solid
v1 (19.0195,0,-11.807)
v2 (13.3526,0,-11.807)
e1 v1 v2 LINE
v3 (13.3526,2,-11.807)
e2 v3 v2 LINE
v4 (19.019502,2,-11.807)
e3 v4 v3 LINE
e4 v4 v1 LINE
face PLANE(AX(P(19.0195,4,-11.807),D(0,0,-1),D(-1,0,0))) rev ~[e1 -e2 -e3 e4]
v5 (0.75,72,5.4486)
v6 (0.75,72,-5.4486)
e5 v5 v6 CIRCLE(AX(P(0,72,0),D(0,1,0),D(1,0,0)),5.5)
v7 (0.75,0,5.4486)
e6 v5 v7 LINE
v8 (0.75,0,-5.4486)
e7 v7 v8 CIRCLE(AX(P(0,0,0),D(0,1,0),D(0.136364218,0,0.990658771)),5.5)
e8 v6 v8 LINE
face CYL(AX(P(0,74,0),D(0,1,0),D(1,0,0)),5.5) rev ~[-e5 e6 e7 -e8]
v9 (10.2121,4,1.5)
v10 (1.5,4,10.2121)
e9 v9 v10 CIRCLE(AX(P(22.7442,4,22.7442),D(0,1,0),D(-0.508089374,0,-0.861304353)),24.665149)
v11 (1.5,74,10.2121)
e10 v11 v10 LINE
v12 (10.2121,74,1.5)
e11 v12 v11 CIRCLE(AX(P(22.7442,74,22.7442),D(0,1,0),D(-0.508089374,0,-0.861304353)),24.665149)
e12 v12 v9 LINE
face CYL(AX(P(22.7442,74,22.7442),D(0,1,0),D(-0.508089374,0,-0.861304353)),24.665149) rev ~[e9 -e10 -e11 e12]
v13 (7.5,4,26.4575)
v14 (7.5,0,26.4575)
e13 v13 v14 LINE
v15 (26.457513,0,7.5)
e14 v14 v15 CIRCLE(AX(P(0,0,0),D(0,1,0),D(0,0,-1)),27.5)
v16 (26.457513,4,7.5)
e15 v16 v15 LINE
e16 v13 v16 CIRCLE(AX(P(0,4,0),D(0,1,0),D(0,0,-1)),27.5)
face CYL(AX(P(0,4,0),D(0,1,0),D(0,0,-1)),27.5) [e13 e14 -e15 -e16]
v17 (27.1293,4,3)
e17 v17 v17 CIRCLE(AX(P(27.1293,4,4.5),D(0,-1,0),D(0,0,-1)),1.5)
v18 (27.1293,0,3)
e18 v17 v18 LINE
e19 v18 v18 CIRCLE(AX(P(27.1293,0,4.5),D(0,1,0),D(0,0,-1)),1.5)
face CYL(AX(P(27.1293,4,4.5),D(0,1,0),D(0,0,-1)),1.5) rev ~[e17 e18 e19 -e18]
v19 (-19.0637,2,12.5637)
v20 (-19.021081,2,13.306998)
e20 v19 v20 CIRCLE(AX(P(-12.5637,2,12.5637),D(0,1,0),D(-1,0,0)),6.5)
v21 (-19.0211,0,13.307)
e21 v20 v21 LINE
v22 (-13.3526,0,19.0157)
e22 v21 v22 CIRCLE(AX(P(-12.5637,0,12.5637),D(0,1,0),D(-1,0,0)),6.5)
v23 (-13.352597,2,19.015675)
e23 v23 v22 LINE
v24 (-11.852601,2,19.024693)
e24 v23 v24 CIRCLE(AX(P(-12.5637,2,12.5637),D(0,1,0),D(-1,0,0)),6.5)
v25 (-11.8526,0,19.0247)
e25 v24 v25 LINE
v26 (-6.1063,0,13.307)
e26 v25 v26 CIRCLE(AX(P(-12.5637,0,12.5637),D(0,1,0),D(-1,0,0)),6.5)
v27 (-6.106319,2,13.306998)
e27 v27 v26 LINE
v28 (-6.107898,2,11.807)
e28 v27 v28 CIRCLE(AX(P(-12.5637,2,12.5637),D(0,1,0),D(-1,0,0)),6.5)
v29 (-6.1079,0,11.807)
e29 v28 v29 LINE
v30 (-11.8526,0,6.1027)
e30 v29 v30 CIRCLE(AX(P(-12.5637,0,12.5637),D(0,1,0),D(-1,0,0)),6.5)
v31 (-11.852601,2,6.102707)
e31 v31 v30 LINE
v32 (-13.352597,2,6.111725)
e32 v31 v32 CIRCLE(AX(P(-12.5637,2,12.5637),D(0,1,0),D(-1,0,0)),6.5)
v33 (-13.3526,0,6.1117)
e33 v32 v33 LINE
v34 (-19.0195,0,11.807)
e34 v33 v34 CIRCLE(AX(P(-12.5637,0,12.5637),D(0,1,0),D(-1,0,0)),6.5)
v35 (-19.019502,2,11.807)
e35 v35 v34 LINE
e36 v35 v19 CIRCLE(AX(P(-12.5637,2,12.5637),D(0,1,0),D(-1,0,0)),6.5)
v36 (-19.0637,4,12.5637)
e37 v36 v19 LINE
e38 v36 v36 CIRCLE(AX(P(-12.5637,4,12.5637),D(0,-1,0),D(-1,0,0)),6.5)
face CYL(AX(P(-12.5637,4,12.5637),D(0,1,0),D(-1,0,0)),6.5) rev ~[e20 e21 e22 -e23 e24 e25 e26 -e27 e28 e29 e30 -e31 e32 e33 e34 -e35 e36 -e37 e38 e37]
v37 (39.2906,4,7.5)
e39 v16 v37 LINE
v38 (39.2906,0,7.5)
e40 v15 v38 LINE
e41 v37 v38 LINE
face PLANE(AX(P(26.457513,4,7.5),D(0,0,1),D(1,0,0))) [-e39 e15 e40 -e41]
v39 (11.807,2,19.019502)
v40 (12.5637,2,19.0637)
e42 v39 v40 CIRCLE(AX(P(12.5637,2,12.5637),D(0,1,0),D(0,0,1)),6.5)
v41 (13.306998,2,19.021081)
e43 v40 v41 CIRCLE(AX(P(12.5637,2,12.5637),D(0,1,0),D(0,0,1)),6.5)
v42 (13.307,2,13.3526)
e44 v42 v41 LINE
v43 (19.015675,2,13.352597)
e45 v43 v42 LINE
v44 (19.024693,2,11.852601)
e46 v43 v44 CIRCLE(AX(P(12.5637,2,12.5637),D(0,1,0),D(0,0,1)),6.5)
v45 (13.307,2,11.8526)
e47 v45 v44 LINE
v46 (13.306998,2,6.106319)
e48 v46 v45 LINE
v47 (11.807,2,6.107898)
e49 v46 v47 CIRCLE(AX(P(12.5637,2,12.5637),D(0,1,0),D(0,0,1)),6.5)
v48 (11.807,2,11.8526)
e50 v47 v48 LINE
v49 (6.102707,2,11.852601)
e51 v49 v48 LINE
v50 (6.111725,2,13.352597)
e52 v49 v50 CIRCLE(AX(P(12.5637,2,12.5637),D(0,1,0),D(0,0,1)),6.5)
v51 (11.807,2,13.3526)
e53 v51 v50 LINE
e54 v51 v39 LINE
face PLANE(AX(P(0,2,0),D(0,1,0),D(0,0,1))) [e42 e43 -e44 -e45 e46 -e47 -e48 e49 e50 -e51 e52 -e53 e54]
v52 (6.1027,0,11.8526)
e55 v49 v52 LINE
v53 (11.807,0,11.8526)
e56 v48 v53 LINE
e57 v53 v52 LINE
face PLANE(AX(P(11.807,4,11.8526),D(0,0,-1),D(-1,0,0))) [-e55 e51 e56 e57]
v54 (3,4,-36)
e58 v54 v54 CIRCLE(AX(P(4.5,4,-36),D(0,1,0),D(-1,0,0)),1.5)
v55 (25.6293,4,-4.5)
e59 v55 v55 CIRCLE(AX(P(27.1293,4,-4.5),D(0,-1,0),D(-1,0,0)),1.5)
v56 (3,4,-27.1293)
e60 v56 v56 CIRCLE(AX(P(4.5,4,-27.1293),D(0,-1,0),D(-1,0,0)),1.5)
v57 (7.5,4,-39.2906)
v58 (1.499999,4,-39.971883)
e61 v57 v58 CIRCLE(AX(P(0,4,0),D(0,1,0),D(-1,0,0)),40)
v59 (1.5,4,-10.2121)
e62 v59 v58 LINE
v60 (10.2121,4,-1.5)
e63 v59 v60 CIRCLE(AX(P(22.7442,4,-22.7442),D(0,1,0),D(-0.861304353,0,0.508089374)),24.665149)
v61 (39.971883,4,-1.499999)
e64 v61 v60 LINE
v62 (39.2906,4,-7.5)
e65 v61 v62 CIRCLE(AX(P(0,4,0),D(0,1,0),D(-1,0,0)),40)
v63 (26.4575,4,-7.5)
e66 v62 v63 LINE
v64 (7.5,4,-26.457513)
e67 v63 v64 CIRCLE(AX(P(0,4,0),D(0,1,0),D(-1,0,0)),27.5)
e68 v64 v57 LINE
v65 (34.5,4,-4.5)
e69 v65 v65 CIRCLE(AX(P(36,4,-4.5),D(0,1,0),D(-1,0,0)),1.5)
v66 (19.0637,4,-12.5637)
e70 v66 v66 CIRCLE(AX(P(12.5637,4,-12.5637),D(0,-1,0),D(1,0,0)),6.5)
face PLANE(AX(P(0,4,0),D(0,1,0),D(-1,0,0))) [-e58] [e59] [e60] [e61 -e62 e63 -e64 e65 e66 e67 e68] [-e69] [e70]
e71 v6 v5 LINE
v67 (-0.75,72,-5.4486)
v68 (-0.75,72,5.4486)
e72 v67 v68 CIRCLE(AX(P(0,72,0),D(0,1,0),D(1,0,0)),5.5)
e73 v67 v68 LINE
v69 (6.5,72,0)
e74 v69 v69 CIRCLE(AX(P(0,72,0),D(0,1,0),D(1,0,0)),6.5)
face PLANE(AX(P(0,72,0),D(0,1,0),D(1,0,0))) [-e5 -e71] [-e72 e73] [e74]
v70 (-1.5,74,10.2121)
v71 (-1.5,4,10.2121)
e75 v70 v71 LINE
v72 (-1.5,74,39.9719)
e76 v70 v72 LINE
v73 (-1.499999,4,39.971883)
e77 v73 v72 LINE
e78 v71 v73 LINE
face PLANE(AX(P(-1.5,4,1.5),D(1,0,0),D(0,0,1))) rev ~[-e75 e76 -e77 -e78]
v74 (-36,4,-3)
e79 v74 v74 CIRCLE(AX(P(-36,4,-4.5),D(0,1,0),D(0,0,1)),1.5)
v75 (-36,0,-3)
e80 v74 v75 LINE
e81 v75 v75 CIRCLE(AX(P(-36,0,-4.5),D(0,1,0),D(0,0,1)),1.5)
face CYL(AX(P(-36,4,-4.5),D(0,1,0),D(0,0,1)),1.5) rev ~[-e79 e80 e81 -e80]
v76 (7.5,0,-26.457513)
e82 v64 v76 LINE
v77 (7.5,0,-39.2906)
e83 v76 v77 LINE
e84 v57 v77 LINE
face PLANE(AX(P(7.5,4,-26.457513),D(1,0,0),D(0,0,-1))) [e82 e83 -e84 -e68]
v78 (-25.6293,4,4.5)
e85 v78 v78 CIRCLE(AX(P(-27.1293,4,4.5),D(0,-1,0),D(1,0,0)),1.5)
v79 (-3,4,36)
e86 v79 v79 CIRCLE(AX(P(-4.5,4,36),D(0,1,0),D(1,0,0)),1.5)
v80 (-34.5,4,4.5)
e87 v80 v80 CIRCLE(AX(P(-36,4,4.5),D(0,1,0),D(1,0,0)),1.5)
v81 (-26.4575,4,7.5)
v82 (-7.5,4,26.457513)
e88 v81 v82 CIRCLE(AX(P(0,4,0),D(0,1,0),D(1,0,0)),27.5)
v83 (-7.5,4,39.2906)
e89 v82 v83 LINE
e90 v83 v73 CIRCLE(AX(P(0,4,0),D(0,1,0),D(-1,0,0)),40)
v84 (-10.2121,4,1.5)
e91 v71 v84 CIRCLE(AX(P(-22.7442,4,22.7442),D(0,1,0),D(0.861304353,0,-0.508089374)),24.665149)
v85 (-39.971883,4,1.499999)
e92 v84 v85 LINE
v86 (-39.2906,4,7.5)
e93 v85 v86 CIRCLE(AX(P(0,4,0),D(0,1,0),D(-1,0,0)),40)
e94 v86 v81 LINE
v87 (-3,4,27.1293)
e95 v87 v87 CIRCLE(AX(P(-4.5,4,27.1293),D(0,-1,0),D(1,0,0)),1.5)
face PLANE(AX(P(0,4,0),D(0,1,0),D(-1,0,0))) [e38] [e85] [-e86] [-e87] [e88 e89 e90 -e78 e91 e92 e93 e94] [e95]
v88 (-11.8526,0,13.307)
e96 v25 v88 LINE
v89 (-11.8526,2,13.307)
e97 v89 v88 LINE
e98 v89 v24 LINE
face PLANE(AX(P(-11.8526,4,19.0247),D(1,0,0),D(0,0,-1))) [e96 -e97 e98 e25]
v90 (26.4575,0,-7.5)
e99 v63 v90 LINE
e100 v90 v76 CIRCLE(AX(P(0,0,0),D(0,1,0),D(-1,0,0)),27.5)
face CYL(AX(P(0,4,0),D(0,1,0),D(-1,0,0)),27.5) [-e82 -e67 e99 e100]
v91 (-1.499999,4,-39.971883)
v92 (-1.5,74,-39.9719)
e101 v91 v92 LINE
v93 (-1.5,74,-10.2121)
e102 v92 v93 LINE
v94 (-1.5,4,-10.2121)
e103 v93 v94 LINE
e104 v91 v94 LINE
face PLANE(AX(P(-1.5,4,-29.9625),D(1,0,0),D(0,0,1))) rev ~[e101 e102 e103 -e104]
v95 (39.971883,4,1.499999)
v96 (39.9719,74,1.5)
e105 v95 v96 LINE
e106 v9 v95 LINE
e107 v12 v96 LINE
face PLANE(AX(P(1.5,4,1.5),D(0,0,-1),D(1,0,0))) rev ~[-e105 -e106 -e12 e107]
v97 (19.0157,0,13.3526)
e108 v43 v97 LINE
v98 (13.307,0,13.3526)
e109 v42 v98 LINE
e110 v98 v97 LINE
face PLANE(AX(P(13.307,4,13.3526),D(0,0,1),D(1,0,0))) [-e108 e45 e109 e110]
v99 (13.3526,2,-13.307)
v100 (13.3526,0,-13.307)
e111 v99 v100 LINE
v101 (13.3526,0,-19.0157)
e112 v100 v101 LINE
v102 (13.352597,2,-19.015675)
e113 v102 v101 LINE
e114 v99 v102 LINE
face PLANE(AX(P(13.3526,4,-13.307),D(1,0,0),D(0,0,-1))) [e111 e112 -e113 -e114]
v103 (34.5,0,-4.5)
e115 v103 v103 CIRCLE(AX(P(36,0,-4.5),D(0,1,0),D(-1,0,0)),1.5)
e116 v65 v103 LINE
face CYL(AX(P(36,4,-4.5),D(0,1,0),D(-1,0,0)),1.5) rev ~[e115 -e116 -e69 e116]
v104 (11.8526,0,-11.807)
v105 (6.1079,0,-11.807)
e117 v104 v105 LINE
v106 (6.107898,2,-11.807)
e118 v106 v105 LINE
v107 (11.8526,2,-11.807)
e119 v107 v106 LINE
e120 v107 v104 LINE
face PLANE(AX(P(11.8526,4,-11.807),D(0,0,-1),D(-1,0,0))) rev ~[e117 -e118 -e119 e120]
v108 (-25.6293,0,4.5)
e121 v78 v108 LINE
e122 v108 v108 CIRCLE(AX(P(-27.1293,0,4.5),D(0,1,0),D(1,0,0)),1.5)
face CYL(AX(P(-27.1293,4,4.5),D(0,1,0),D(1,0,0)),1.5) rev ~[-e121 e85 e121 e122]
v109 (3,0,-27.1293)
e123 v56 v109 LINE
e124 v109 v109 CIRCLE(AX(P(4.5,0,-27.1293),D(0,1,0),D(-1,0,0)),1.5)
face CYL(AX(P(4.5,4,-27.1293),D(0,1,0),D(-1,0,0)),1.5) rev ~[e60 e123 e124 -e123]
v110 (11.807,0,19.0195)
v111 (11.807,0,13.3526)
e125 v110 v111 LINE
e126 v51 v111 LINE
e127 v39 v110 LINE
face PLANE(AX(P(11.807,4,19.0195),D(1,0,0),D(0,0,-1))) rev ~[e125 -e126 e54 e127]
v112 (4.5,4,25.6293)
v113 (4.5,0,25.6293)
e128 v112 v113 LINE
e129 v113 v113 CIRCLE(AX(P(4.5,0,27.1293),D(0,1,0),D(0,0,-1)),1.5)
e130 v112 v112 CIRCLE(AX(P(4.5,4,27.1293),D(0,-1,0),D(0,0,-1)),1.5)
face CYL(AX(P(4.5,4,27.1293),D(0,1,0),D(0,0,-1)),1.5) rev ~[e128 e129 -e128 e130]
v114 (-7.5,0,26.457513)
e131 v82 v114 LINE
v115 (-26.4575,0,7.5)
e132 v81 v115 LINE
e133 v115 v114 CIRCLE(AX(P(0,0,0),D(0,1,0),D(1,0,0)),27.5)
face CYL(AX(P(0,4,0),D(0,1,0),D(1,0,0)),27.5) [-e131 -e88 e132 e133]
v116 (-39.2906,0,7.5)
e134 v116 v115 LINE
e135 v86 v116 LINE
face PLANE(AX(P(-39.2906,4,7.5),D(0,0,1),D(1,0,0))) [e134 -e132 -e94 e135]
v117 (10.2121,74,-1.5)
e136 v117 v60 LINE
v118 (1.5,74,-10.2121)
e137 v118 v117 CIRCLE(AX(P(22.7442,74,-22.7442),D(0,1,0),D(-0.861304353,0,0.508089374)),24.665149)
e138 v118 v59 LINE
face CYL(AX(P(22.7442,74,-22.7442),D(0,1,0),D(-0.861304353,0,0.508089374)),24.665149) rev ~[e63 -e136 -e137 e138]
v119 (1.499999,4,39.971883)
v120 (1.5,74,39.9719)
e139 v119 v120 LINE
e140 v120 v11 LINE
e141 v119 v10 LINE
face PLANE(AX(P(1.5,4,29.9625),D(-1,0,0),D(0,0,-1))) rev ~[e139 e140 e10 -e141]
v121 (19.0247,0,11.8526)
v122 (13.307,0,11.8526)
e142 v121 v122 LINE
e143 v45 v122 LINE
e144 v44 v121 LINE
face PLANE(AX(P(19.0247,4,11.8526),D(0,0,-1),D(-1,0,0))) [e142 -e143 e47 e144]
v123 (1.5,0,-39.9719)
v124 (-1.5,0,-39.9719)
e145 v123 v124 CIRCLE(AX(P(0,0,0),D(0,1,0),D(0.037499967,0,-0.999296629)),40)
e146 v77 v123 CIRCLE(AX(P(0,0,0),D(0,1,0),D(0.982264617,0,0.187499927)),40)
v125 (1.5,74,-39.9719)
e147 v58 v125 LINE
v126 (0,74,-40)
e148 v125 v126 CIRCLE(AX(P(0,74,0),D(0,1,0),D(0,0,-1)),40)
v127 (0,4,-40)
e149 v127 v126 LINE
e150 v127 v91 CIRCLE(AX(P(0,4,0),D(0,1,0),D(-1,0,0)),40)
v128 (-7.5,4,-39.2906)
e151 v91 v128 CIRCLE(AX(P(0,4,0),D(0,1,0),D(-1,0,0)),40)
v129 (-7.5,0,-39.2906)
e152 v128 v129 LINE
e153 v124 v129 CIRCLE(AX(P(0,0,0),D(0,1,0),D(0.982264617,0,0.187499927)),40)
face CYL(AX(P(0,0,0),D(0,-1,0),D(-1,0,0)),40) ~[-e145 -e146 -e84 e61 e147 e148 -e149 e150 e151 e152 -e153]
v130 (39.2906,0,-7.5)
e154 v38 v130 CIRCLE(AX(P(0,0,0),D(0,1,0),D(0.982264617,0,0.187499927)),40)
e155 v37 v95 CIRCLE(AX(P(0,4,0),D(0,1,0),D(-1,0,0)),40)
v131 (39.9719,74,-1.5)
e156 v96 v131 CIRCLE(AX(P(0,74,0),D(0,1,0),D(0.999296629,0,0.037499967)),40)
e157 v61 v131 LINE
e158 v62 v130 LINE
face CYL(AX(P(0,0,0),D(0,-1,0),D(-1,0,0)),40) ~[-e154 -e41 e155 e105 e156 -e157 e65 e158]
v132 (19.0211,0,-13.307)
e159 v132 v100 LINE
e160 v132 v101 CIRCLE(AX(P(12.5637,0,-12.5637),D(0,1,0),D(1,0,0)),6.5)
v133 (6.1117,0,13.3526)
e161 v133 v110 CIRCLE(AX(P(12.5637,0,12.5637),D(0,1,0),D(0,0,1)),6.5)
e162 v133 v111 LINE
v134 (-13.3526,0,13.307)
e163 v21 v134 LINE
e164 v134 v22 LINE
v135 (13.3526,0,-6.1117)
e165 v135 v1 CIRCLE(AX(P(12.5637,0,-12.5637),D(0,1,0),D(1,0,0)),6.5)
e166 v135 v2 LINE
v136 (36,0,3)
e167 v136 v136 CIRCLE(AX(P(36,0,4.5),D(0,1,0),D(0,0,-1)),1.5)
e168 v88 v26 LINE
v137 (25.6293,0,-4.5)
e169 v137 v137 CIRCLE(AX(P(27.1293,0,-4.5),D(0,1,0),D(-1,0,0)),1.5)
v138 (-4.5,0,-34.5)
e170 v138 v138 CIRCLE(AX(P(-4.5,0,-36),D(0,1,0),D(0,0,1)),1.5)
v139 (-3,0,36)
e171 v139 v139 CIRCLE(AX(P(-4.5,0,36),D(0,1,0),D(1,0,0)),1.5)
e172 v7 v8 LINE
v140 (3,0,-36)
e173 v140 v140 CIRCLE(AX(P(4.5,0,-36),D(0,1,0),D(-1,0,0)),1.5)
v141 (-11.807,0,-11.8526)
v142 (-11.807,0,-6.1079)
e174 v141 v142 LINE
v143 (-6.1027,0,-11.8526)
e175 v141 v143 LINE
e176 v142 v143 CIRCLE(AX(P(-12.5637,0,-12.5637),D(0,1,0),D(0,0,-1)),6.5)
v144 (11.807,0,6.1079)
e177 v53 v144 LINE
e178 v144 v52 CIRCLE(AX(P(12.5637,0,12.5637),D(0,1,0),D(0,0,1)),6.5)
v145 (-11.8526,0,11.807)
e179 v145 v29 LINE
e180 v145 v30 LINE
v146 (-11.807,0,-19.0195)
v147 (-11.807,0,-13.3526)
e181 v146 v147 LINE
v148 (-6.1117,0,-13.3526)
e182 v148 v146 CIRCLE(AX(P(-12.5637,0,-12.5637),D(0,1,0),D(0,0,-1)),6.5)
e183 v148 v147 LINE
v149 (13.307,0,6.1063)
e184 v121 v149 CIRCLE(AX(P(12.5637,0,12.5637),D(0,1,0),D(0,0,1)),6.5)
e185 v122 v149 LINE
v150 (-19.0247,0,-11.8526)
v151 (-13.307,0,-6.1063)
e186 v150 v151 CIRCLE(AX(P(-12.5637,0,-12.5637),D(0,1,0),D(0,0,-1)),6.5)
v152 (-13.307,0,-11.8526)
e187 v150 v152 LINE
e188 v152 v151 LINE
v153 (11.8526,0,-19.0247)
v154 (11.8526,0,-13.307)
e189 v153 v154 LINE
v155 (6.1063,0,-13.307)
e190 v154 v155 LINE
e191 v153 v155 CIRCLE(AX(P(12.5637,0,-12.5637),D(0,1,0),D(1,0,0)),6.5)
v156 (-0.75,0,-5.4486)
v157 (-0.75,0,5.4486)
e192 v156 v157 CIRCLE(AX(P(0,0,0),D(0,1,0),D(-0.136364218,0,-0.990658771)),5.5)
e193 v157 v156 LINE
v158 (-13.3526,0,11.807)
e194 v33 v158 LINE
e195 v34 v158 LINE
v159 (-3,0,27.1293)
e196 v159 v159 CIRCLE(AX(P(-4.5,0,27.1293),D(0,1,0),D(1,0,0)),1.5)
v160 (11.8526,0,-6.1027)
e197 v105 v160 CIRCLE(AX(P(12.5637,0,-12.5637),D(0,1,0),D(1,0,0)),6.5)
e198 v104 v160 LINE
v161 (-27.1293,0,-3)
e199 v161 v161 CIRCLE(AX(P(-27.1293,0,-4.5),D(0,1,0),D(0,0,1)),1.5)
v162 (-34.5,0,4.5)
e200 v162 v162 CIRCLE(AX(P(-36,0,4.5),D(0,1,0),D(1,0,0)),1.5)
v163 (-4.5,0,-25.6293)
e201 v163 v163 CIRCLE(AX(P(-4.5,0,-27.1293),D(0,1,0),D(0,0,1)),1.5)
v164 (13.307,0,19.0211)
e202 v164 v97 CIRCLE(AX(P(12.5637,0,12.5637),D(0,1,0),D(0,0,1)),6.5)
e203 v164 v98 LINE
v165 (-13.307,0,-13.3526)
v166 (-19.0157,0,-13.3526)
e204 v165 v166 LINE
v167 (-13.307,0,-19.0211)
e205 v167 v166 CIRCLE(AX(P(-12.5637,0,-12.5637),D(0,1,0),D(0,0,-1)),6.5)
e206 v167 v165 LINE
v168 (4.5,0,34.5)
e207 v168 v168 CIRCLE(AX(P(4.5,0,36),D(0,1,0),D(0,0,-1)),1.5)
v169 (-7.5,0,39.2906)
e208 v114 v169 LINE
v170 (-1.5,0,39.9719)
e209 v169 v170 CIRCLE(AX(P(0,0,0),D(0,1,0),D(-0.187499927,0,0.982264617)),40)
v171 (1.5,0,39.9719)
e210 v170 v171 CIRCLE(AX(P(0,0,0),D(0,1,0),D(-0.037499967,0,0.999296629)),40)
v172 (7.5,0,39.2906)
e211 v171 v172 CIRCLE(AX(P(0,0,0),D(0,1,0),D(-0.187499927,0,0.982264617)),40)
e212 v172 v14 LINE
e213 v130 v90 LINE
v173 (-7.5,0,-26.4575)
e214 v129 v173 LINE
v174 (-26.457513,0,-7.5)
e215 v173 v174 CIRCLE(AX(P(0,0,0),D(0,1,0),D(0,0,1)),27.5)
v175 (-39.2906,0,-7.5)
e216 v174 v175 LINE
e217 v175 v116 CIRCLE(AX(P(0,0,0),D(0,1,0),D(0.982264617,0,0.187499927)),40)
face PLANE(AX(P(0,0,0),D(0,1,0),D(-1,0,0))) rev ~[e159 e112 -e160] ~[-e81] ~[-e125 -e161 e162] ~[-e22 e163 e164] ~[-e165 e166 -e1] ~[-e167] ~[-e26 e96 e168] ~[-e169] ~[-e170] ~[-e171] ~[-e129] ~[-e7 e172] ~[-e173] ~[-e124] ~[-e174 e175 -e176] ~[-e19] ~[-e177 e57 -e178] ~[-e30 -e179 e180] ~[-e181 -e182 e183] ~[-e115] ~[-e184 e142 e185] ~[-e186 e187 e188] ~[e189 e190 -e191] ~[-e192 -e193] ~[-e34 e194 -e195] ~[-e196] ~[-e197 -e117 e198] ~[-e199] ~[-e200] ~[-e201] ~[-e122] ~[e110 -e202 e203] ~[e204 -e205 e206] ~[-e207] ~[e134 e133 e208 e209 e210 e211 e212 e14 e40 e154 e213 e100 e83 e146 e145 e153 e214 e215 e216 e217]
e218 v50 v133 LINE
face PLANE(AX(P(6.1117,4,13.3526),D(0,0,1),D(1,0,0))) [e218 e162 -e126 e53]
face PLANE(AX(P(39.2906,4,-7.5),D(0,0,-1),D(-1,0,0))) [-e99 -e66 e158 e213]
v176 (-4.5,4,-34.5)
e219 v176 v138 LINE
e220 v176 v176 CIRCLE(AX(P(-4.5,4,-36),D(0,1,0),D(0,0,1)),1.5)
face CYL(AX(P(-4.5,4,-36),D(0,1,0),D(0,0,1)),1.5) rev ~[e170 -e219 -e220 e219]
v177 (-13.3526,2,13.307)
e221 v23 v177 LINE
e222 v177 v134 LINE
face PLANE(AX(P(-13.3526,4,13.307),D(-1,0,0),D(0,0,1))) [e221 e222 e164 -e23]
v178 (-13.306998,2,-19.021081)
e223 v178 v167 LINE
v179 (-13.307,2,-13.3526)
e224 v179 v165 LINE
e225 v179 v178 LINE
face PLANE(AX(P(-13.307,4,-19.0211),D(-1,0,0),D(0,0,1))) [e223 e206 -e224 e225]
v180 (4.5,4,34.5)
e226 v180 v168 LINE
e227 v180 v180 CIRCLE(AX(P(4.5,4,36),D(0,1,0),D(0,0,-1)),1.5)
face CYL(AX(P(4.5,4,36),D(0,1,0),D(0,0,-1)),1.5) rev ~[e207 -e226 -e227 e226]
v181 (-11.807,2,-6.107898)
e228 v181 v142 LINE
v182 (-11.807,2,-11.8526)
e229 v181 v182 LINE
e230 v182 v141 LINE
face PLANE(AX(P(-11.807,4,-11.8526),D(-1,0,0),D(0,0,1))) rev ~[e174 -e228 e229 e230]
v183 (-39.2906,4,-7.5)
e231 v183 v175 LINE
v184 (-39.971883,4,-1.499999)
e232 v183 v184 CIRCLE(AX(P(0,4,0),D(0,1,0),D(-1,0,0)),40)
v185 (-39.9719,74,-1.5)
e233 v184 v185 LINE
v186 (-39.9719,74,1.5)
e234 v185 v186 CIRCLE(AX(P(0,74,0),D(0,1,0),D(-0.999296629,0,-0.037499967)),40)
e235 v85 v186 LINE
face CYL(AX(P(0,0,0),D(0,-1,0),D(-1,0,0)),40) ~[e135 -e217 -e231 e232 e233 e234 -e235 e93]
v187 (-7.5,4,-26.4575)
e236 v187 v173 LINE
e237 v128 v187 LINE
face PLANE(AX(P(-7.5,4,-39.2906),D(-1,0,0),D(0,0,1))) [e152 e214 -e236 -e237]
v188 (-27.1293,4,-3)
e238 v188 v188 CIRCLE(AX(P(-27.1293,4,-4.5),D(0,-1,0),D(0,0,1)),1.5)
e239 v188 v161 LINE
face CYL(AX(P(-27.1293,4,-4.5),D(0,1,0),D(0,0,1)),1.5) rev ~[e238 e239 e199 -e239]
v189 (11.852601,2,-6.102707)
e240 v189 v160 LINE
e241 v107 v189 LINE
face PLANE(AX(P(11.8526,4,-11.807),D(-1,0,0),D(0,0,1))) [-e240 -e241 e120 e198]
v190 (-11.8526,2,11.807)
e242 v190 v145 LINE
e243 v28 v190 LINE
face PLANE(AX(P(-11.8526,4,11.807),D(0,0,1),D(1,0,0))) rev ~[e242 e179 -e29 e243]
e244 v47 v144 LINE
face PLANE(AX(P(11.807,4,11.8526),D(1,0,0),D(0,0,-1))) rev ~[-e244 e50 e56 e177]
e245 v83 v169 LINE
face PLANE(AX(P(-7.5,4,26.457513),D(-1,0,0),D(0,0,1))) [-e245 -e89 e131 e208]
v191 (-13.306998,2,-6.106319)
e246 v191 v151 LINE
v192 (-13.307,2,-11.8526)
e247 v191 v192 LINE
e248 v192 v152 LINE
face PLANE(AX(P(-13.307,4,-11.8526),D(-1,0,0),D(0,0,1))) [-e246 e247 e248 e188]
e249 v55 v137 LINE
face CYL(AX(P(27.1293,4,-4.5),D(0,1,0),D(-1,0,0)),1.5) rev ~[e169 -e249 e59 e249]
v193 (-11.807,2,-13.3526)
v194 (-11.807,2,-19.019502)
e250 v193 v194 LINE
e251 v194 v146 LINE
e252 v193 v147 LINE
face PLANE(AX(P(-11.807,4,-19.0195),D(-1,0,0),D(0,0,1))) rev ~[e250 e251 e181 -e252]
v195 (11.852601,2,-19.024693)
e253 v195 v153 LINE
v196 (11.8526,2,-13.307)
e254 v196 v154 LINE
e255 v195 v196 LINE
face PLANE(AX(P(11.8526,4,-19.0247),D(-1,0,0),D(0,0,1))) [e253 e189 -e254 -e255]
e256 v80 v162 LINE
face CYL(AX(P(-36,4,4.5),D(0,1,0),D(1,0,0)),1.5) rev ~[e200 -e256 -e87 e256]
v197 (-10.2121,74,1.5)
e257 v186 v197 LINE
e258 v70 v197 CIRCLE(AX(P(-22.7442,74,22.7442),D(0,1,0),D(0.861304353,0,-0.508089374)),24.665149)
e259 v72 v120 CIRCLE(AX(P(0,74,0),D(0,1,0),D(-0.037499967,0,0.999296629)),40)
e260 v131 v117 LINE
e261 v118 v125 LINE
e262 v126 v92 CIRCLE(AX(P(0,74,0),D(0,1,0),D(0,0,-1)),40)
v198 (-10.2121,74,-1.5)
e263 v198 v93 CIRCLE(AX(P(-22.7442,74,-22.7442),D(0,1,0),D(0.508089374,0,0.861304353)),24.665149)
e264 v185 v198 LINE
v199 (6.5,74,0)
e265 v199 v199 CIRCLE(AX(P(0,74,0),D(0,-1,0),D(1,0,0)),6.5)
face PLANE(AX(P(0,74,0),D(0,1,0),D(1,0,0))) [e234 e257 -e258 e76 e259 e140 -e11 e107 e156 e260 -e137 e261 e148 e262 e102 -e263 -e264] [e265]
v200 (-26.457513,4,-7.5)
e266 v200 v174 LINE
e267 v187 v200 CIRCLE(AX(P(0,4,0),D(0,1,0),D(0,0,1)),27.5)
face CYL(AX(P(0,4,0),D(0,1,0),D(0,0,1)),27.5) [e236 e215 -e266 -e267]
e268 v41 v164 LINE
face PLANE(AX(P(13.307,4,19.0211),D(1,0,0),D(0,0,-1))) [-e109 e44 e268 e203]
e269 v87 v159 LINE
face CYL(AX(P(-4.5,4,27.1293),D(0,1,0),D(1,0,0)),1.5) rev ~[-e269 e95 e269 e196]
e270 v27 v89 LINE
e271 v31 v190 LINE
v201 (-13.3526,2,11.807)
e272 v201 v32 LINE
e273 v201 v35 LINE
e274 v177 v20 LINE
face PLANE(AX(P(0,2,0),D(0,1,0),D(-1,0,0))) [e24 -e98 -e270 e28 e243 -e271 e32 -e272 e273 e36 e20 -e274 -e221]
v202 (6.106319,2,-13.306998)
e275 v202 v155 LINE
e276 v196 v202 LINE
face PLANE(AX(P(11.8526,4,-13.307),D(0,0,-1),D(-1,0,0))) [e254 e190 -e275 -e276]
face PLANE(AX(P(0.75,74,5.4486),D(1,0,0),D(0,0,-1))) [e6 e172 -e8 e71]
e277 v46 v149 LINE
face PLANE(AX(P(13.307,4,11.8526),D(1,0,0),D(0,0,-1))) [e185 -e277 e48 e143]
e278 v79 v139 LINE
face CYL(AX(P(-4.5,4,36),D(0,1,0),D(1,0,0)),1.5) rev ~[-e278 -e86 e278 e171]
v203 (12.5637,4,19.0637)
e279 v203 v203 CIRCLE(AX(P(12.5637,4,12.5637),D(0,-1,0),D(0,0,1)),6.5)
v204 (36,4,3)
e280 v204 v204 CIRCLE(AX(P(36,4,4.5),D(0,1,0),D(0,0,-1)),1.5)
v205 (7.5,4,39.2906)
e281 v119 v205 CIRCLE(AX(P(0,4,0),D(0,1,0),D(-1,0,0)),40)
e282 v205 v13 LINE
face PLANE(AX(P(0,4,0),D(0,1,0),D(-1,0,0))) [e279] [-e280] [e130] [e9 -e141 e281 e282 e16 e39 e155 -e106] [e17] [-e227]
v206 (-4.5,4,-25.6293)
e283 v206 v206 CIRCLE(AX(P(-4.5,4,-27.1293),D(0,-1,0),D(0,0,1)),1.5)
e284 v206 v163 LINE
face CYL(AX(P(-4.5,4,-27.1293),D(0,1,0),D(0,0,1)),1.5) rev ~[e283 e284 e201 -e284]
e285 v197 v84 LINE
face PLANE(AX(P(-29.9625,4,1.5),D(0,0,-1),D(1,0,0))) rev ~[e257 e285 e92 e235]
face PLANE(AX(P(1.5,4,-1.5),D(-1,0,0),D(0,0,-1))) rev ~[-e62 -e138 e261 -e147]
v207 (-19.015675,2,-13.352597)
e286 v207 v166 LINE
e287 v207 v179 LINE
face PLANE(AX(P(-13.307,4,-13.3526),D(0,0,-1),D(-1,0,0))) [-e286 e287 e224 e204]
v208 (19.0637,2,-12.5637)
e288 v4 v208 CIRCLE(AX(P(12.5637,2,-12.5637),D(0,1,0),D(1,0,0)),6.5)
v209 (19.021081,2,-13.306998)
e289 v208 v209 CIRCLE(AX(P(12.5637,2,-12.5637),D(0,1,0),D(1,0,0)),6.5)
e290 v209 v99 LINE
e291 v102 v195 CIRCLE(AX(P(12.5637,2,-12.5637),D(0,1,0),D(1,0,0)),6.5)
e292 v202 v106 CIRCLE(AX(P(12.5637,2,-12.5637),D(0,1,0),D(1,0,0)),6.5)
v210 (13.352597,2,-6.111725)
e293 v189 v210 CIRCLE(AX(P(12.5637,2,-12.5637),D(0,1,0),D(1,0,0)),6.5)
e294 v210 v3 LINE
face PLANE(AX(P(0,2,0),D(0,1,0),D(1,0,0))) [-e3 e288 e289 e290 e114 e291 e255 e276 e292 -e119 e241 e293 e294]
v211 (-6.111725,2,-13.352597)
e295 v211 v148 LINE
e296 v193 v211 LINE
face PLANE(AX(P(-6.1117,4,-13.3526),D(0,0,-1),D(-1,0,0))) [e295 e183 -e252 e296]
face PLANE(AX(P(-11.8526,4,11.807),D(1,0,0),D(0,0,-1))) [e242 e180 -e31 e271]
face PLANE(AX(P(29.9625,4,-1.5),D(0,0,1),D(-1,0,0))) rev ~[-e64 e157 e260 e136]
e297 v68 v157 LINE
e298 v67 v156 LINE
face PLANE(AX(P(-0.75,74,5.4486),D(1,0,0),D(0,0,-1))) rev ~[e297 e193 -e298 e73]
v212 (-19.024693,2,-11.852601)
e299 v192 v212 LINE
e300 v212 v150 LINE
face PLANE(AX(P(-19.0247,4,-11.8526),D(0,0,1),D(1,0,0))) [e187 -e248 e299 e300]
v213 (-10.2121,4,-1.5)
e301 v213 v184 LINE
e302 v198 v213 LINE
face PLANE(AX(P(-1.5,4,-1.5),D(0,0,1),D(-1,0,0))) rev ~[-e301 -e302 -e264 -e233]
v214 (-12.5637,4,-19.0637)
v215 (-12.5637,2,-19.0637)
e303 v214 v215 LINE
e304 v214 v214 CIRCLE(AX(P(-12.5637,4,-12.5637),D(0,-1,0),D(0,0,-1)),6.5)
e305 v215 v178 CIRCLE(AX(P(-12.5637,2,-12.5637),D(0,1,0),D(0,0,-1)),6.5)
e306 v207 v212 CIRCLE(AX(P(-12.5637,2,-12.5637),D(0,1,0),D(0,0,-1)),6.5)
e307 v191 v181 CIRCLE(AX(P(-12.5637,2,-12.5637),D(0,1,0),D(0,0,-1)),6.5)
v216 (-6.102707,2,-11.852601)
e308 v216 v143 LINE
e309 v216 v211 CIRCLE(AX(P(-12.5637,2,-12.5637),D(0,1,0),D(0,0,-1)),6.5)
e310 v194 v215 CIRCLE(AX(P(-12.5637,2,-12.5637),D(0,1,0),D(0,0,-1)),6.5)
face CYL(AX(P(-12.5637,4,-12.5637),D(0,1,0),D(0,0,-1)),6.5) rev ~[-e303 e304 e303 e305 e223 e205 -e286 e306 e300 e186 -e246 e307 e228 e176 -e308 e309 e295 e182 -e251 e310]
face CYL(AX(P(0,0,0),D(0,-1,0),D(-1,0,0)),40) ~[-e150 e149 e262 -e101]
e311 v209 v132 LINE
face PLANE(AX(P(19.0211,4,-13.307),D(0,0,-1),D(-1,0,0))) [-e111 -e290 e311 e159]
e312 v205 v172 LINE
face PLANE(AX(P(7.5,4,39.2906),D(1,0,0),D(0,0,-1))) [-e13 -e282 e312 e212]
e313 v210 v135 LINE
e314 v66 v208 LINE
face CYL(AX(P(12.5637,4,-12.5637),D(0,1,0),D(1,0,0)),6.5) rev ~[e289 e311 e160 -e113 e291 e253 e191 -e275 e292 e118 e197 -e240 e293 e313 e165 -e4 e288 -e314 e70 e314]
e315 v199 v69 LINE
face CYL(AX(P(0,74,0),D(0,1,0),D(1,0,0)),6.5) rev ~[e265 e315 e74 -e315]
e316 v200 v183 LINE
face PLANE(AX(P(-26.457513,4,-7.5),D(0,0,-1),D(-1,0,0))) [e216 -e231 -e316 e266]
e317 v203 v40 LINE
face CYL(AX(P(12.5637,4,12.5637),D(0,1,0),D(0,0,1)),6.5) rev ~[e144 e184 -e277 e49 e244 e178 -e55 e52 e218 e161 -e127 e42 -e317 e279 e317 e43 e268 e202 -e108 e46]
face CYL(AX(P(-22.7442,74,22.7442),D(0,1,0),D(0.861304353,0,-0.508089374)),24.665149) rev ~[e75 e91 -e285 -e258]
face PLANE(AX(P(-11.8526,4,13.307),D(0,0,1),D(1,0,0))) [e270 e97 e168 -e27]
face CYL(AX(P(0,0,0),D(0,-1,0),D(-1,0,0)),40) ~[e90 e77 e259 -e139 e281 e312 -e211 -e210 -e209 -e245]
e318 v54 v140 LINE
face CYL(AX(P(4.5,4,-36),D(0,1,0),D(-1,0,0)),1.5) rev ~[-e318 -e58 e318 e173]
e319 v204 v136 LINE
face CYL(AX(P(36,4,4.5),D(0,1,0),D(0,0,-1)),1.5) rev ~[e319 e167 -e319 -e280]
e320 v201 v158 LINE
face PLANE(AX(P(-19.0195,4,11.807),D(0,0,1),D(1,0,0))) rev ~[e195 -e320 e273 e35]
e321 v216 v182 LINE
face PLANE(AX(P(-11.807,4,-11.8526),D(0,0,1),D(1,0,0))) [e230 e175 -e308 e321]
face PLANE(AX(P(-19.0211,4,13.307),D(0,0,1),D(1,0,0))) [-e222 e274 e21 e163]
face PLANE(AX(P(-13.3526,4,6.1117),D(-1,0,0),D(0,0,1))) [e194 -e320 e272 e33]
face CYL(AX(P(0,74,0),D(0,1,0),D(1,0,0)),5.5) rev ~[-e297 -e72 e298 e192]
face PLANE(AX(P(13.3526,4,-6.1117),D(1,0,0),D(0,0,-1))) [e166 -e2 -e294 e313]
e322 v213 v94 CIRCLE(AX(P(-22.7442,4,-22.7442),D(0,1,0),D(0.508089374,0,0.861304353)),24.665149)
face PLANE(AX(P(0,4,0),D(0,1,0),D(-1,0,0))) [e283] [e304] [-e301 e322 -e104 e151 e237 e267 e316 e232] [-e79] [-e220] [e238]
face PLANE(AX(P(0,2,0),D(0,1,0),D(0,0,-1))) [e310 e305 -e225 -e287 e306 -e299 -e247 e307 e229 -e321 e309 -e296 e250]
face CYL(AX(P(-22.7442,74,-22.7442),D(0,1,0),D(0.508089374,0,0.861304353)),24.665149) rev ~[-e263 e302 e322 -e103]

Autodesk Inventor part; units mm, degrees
ref_plane "YZ Plane" through (0, 0, 0) normal (1, 0, 0) x (0, 1, 0)
ref_plane "XZ Plane" through (0, 0, 0) normal (0, 1, 0) x (-1, 0, 0)
ref_plane "XY Plane" through (0, 0, 0) normal (0, 0, 1) x (1, 0, 0)
sketch "Sketch1" plane through (0, 0, 0) normal (0, 1, 0) x (-1, 0, 0)
  circle A0 centre (0, 0) radius 30
  dimension "d0" = 60
extrude "Extrusion1" add sketch "Sketch1" along normal blind 4
sketch "Sketch2" plane through (0, 4, 0) normal (0, 1, 0) x (1, 0, 0)
  circle A0 centre (0, 0) radius 30 projected
  line L0 (-29.9625, -1.5) -> (-1.5, -1.5)
  line L1 (1.5, -1.5) -> (29.9625, -1.5)
  line L2 (29.9625, 1.5) -> (1.5, 1.5)
  line L3 (-1.5, 1.5) -> (-29.9625, 1.5)
  line L4 (-1.5, 29.9625) -> (-1.5, 1.5)
  line L5 (-1.5, -1.5) -> (-1.5, -29.9625)
  line L6 (1.5, -29.9625) -> (1.5, -1.5)
  line L7 (1.5, 1.5) -> (1.5, 29.9625)
  point P0 (-29.9625, 0)
  point P1 (0, 29.9625)
  point P2 (-1.5, 0)
  dimension "d5" = 3
  dimension "d6" = 3
  dimension "d7" = 3
  dimension "d8" = 3
extrude "Extrusion2" add sketch "Sketch2" along normal blind 70 contours A0 L1 L6 L5 L0 L3 L4 L7 L2
sketch "Sketch5" plane through (0, 4, 0) normal (0, 1, 0) x (1, 0, 0)
  circle A0 centre (12.5637, 12.5637) radius 6.5
  line L0 (29.9625, 1.5) -> (1.5, 1.5) projected
  line L1 (1.5, 1.5) -> (1.5, 29.9625) projected
  line L2 (12.5637, 12.5637) -> (1.5, 12.5637) construction
  line L3 (12.5637, 12.5637) -> (12.5637, 1.5) construction
  line L4 (16.5637, 12.5637) -> (8.5637, 12.5637) construction
  line L5 (11.8526, 19.0247) -> (11.8526, 6.1027)
  line L6 (13.3526, 6.1117) -> (13.3526, 19.0157)
  line L7 (19.0195, 11.807) -> (6.1079, 11.807)
  line L8 (19.0211, 13.307) -> (6.1063, 13.307)
  point P0 (0, 0)
  point P1 (12.5637, 7.0319)
  point P2 (13.3526, 11.807)
  point P3 (13.3526, 13.307)
  point P4 (11.8526, 13.307)
  point P5 (11.8526, 11.807)
  dimension "d20" = 13
  dimension "d25" = 8
  dimension "d58" = 1.5
  dimension "d59" = 1.5
extrude "Extrusion5" cut sketch "Sketch5" against normal blind 2
extrude "Extrusion6" cut sketch "Sketch5" against normal up to surface (4 mm away) contours L8 L6 A0 | A0 L6 L7 | L5 L8 A0 | A0 L7 L5
pattern_circular "Circular Pattern1" count 4 over 360 about axis through (0, -10, 0) along (0, 1, 0) of "Extrusion6", "Extrusion5"
sketch "Sketch8" plane through (0, 74, 0) normal (0, 1, 0) x (1, 0, 0)
  circle A0 centre (0, 0) radius 6.5
  circle A1 centre (0, 0) radius 5.5
  line L0 (-0.75, -5.4486) -> (-0.75, 5.4486)
  line L1 (-1.5, -29.9625) -> (-1.5, -1.5) projected
  line L2 (0.75, -5.4486) -> (0.75, 5.4486)
  line L3 (1.5, -1.5) -> (1.5, -29.9625) projected
  line L4 (-0.75, -3.138) -> (0.75, -3.138) construction
  arc A2 (-1.5, -10.2121) -> (-10.2121, -1.5) centre (-22.7442, -22.7442) ccw
  line L5 (0, 0) -> (-25.6194, -25.6194) construction
  arc A3 (-29.9625, -1.5) -> (-1.5, -29.9625) centre (0, 0) ccw projected
  line L6 (-1.5, -1.5) -> (-29.9625, -1.5) projected
  line L7 (-29.9625, -1.5) -> (-1.5, -1.5) projected
  arc A4 (10.2121, -1.5) -> (1.5, -10.2121) centre (22.7442, -22.7442) ccw
  arc A5 (1.5, 10.2121) -> (10.2121, 1.5) centre (22.7442, 22.7442) ccw
  arc A6 (-10.2121, 1.5) -> (-1.5, 10.2121) centre (-22.7442, 22.7442) ccw
  line L8 (-1.5, 29.9625) -> (-1.5, 1.5) projected
  line L9 (1.5, -1.5) -> (29.9625, -1.5) projected
  line L10 (29.9625, 1.5) -> (1.5, 1.5) projected
  line L11 (10.2121, 1.5) -> (13.7073, 1.5)
  line L12 (10.2121, -1.5) -> (13.7073, -1.5)
  line L13 (-10.2121, -1.5) -> (-14.8678, -1.5)
  line L14 (-10.2121, 1.5) -> (-14.8678, 1.5)
  point P0 (0, -3.138)
  point P1 (-10.2121, -1.5)
  point P2 (-1.5, -5.2915)
  point P3 (-5.2915, -1.5)
  dimension "d85" = 13
  dimension "d86" = 11
  dimension "d87" = 1.5
  dimension "d88" = 24.6651
  dimension "d89" = 45
  dimension "d92" = 360
extrude "Extrusion13" cut sketch "Sketch8" against normal up to surface (74 mm away) contours A1 L9 L3 L2 | A1 L3 L9 | A1 L0 L1 L6 | L6 L1 A1
extrude "Extrusion14" add sketch "Sketch8" against normal up to surface (74 mm away) contours L6 A1 L1 A0 | A0 L1 A2 L6
pattern_circular "Circular Pattern3" count 4 over 360 about axis through (0, -10, 0) along (0, 1, 0) of "Extrusion14"
extrude "Extrusion15" cut sketch "Sketch8" against normal blind 2 contours A0 L9 A1 L10 | L10 A1 L8 A0 | A0 L3 A1 L9 | L8 A1 L6 A0 | A1 L9 L3 L2 | A0 L1 A1 L3 | A1 L3 L9 | L6 A1 L1 A0 | A1 L0 L1 L6 | L2 A1 L0 | L6 L1 A1
sketch "Sketch10" plane through (0, 0, 0) normal (0, 1, 0) x (-1, 0, 0)
  circle A0 centre (0, 0) radius 27.5
  circle A1 centre (0, 0) radius 40
  line L0 (10.2121, 1.5) -> (29.9625, 1.5) projected
  line L1 (25.2159, 1.5) -> (39.9719, 1.5)
  line L2 (29.9625, -1.5) -> (10.2121, -1.5) projected
  line L3 (25.2159, -1.5) -> (39.9719, -1.5)
  line L4 (25.2159, -1.5) -> (25.2159, 1.5)
  point P0 (27.4591, 1.5)
  point P1 (27.4591, -1.5)
  dimension "d106" = 55
  dimension "d107" = 80
extrude "Extrusion17" add sketch "Sketch10" along normal up to surface (4 mm away) contours A0 L0 L1 A1 L3 L2 | A0 L2 L3 A1 L1 L0
extrude "Extrusion18" add sketch "Sketch10" along normal up to surface (74 mm away) contours A0 L0 L1 A1 L3 L2 picked at (33.3083, 0)
sketch "Sketch11" plane through (0, 4, 0) normal (0, 1, 0) x (1, 0, 0)
  circle A0 centre (0, 0) radius 40 projected
  line L0 (-39.2906, -7.5) -> (-26.4575, -7.5)
  line L1 (-10.2121, -1.5) -> (-29.9625, -1.5) projected
  circle A1 centre (-36, -4.5) radius 1.5
  circle A2 centre (0, 0) radius 27.5 projected
  line L2 (-7.5, -3.3264) -> (-7.5, -39.2906)
  line L3 (-26.4575, -7.5) -> (-7.5, -7.5)
  circle A3 centre (-4.5, -36) radius 1.5
  circle A4 centre (-27.1293, -4.5) radius 1.5
  circle A5 centre (-4.5, -27.1293) radius 1.5
  point P0 (-7.5, -26.4575)
  dimension "d112" = 6
  dimension "d113" = 3
  dimension "d114" = 7.5
  dimension "d115" = 3
  dimension "d116" = 36
  dimension "d117" = 36
  dimension "d118" = 3
  dimension "d119" = 3
  dimension "d125" = 3
extrude "Extrusion19" cut sketch "Sketch11" against normal up to surface (4 mm away) contours L0 A2 L2 A0 | A4 A2 | A2 A4 | A5 A2 | A2 A5 | A1 | A3
pattern_circular "Circular Pattern4" count 4 over 360 about axis through (0, -10, 0) along (0, 1, 0) of "Extrusion18", "Extrusion19"
sketch "Sketch12" plane through (0, 0, 0) normal (0, -1, 0) x (1, 0, 0)
  line L0 (26.4575, 7.5) -> (39.2906, 7.5) projected
  line L1 (39.0223, 7.5) -> (26.4575, 7.5)
  arc A0 (7.5, 39.2906) -> (-7.5, 39.2906) centre (0, 0) ccw projected
  line L2 (7.5, 39.2906) -> (7.5, 26.4575) projected
  line L3 (7.5, 39.2906) -> (7.5, 26.4575)
equation "\"d94\" = d85"
properties part number "SunTrackerHolder"
